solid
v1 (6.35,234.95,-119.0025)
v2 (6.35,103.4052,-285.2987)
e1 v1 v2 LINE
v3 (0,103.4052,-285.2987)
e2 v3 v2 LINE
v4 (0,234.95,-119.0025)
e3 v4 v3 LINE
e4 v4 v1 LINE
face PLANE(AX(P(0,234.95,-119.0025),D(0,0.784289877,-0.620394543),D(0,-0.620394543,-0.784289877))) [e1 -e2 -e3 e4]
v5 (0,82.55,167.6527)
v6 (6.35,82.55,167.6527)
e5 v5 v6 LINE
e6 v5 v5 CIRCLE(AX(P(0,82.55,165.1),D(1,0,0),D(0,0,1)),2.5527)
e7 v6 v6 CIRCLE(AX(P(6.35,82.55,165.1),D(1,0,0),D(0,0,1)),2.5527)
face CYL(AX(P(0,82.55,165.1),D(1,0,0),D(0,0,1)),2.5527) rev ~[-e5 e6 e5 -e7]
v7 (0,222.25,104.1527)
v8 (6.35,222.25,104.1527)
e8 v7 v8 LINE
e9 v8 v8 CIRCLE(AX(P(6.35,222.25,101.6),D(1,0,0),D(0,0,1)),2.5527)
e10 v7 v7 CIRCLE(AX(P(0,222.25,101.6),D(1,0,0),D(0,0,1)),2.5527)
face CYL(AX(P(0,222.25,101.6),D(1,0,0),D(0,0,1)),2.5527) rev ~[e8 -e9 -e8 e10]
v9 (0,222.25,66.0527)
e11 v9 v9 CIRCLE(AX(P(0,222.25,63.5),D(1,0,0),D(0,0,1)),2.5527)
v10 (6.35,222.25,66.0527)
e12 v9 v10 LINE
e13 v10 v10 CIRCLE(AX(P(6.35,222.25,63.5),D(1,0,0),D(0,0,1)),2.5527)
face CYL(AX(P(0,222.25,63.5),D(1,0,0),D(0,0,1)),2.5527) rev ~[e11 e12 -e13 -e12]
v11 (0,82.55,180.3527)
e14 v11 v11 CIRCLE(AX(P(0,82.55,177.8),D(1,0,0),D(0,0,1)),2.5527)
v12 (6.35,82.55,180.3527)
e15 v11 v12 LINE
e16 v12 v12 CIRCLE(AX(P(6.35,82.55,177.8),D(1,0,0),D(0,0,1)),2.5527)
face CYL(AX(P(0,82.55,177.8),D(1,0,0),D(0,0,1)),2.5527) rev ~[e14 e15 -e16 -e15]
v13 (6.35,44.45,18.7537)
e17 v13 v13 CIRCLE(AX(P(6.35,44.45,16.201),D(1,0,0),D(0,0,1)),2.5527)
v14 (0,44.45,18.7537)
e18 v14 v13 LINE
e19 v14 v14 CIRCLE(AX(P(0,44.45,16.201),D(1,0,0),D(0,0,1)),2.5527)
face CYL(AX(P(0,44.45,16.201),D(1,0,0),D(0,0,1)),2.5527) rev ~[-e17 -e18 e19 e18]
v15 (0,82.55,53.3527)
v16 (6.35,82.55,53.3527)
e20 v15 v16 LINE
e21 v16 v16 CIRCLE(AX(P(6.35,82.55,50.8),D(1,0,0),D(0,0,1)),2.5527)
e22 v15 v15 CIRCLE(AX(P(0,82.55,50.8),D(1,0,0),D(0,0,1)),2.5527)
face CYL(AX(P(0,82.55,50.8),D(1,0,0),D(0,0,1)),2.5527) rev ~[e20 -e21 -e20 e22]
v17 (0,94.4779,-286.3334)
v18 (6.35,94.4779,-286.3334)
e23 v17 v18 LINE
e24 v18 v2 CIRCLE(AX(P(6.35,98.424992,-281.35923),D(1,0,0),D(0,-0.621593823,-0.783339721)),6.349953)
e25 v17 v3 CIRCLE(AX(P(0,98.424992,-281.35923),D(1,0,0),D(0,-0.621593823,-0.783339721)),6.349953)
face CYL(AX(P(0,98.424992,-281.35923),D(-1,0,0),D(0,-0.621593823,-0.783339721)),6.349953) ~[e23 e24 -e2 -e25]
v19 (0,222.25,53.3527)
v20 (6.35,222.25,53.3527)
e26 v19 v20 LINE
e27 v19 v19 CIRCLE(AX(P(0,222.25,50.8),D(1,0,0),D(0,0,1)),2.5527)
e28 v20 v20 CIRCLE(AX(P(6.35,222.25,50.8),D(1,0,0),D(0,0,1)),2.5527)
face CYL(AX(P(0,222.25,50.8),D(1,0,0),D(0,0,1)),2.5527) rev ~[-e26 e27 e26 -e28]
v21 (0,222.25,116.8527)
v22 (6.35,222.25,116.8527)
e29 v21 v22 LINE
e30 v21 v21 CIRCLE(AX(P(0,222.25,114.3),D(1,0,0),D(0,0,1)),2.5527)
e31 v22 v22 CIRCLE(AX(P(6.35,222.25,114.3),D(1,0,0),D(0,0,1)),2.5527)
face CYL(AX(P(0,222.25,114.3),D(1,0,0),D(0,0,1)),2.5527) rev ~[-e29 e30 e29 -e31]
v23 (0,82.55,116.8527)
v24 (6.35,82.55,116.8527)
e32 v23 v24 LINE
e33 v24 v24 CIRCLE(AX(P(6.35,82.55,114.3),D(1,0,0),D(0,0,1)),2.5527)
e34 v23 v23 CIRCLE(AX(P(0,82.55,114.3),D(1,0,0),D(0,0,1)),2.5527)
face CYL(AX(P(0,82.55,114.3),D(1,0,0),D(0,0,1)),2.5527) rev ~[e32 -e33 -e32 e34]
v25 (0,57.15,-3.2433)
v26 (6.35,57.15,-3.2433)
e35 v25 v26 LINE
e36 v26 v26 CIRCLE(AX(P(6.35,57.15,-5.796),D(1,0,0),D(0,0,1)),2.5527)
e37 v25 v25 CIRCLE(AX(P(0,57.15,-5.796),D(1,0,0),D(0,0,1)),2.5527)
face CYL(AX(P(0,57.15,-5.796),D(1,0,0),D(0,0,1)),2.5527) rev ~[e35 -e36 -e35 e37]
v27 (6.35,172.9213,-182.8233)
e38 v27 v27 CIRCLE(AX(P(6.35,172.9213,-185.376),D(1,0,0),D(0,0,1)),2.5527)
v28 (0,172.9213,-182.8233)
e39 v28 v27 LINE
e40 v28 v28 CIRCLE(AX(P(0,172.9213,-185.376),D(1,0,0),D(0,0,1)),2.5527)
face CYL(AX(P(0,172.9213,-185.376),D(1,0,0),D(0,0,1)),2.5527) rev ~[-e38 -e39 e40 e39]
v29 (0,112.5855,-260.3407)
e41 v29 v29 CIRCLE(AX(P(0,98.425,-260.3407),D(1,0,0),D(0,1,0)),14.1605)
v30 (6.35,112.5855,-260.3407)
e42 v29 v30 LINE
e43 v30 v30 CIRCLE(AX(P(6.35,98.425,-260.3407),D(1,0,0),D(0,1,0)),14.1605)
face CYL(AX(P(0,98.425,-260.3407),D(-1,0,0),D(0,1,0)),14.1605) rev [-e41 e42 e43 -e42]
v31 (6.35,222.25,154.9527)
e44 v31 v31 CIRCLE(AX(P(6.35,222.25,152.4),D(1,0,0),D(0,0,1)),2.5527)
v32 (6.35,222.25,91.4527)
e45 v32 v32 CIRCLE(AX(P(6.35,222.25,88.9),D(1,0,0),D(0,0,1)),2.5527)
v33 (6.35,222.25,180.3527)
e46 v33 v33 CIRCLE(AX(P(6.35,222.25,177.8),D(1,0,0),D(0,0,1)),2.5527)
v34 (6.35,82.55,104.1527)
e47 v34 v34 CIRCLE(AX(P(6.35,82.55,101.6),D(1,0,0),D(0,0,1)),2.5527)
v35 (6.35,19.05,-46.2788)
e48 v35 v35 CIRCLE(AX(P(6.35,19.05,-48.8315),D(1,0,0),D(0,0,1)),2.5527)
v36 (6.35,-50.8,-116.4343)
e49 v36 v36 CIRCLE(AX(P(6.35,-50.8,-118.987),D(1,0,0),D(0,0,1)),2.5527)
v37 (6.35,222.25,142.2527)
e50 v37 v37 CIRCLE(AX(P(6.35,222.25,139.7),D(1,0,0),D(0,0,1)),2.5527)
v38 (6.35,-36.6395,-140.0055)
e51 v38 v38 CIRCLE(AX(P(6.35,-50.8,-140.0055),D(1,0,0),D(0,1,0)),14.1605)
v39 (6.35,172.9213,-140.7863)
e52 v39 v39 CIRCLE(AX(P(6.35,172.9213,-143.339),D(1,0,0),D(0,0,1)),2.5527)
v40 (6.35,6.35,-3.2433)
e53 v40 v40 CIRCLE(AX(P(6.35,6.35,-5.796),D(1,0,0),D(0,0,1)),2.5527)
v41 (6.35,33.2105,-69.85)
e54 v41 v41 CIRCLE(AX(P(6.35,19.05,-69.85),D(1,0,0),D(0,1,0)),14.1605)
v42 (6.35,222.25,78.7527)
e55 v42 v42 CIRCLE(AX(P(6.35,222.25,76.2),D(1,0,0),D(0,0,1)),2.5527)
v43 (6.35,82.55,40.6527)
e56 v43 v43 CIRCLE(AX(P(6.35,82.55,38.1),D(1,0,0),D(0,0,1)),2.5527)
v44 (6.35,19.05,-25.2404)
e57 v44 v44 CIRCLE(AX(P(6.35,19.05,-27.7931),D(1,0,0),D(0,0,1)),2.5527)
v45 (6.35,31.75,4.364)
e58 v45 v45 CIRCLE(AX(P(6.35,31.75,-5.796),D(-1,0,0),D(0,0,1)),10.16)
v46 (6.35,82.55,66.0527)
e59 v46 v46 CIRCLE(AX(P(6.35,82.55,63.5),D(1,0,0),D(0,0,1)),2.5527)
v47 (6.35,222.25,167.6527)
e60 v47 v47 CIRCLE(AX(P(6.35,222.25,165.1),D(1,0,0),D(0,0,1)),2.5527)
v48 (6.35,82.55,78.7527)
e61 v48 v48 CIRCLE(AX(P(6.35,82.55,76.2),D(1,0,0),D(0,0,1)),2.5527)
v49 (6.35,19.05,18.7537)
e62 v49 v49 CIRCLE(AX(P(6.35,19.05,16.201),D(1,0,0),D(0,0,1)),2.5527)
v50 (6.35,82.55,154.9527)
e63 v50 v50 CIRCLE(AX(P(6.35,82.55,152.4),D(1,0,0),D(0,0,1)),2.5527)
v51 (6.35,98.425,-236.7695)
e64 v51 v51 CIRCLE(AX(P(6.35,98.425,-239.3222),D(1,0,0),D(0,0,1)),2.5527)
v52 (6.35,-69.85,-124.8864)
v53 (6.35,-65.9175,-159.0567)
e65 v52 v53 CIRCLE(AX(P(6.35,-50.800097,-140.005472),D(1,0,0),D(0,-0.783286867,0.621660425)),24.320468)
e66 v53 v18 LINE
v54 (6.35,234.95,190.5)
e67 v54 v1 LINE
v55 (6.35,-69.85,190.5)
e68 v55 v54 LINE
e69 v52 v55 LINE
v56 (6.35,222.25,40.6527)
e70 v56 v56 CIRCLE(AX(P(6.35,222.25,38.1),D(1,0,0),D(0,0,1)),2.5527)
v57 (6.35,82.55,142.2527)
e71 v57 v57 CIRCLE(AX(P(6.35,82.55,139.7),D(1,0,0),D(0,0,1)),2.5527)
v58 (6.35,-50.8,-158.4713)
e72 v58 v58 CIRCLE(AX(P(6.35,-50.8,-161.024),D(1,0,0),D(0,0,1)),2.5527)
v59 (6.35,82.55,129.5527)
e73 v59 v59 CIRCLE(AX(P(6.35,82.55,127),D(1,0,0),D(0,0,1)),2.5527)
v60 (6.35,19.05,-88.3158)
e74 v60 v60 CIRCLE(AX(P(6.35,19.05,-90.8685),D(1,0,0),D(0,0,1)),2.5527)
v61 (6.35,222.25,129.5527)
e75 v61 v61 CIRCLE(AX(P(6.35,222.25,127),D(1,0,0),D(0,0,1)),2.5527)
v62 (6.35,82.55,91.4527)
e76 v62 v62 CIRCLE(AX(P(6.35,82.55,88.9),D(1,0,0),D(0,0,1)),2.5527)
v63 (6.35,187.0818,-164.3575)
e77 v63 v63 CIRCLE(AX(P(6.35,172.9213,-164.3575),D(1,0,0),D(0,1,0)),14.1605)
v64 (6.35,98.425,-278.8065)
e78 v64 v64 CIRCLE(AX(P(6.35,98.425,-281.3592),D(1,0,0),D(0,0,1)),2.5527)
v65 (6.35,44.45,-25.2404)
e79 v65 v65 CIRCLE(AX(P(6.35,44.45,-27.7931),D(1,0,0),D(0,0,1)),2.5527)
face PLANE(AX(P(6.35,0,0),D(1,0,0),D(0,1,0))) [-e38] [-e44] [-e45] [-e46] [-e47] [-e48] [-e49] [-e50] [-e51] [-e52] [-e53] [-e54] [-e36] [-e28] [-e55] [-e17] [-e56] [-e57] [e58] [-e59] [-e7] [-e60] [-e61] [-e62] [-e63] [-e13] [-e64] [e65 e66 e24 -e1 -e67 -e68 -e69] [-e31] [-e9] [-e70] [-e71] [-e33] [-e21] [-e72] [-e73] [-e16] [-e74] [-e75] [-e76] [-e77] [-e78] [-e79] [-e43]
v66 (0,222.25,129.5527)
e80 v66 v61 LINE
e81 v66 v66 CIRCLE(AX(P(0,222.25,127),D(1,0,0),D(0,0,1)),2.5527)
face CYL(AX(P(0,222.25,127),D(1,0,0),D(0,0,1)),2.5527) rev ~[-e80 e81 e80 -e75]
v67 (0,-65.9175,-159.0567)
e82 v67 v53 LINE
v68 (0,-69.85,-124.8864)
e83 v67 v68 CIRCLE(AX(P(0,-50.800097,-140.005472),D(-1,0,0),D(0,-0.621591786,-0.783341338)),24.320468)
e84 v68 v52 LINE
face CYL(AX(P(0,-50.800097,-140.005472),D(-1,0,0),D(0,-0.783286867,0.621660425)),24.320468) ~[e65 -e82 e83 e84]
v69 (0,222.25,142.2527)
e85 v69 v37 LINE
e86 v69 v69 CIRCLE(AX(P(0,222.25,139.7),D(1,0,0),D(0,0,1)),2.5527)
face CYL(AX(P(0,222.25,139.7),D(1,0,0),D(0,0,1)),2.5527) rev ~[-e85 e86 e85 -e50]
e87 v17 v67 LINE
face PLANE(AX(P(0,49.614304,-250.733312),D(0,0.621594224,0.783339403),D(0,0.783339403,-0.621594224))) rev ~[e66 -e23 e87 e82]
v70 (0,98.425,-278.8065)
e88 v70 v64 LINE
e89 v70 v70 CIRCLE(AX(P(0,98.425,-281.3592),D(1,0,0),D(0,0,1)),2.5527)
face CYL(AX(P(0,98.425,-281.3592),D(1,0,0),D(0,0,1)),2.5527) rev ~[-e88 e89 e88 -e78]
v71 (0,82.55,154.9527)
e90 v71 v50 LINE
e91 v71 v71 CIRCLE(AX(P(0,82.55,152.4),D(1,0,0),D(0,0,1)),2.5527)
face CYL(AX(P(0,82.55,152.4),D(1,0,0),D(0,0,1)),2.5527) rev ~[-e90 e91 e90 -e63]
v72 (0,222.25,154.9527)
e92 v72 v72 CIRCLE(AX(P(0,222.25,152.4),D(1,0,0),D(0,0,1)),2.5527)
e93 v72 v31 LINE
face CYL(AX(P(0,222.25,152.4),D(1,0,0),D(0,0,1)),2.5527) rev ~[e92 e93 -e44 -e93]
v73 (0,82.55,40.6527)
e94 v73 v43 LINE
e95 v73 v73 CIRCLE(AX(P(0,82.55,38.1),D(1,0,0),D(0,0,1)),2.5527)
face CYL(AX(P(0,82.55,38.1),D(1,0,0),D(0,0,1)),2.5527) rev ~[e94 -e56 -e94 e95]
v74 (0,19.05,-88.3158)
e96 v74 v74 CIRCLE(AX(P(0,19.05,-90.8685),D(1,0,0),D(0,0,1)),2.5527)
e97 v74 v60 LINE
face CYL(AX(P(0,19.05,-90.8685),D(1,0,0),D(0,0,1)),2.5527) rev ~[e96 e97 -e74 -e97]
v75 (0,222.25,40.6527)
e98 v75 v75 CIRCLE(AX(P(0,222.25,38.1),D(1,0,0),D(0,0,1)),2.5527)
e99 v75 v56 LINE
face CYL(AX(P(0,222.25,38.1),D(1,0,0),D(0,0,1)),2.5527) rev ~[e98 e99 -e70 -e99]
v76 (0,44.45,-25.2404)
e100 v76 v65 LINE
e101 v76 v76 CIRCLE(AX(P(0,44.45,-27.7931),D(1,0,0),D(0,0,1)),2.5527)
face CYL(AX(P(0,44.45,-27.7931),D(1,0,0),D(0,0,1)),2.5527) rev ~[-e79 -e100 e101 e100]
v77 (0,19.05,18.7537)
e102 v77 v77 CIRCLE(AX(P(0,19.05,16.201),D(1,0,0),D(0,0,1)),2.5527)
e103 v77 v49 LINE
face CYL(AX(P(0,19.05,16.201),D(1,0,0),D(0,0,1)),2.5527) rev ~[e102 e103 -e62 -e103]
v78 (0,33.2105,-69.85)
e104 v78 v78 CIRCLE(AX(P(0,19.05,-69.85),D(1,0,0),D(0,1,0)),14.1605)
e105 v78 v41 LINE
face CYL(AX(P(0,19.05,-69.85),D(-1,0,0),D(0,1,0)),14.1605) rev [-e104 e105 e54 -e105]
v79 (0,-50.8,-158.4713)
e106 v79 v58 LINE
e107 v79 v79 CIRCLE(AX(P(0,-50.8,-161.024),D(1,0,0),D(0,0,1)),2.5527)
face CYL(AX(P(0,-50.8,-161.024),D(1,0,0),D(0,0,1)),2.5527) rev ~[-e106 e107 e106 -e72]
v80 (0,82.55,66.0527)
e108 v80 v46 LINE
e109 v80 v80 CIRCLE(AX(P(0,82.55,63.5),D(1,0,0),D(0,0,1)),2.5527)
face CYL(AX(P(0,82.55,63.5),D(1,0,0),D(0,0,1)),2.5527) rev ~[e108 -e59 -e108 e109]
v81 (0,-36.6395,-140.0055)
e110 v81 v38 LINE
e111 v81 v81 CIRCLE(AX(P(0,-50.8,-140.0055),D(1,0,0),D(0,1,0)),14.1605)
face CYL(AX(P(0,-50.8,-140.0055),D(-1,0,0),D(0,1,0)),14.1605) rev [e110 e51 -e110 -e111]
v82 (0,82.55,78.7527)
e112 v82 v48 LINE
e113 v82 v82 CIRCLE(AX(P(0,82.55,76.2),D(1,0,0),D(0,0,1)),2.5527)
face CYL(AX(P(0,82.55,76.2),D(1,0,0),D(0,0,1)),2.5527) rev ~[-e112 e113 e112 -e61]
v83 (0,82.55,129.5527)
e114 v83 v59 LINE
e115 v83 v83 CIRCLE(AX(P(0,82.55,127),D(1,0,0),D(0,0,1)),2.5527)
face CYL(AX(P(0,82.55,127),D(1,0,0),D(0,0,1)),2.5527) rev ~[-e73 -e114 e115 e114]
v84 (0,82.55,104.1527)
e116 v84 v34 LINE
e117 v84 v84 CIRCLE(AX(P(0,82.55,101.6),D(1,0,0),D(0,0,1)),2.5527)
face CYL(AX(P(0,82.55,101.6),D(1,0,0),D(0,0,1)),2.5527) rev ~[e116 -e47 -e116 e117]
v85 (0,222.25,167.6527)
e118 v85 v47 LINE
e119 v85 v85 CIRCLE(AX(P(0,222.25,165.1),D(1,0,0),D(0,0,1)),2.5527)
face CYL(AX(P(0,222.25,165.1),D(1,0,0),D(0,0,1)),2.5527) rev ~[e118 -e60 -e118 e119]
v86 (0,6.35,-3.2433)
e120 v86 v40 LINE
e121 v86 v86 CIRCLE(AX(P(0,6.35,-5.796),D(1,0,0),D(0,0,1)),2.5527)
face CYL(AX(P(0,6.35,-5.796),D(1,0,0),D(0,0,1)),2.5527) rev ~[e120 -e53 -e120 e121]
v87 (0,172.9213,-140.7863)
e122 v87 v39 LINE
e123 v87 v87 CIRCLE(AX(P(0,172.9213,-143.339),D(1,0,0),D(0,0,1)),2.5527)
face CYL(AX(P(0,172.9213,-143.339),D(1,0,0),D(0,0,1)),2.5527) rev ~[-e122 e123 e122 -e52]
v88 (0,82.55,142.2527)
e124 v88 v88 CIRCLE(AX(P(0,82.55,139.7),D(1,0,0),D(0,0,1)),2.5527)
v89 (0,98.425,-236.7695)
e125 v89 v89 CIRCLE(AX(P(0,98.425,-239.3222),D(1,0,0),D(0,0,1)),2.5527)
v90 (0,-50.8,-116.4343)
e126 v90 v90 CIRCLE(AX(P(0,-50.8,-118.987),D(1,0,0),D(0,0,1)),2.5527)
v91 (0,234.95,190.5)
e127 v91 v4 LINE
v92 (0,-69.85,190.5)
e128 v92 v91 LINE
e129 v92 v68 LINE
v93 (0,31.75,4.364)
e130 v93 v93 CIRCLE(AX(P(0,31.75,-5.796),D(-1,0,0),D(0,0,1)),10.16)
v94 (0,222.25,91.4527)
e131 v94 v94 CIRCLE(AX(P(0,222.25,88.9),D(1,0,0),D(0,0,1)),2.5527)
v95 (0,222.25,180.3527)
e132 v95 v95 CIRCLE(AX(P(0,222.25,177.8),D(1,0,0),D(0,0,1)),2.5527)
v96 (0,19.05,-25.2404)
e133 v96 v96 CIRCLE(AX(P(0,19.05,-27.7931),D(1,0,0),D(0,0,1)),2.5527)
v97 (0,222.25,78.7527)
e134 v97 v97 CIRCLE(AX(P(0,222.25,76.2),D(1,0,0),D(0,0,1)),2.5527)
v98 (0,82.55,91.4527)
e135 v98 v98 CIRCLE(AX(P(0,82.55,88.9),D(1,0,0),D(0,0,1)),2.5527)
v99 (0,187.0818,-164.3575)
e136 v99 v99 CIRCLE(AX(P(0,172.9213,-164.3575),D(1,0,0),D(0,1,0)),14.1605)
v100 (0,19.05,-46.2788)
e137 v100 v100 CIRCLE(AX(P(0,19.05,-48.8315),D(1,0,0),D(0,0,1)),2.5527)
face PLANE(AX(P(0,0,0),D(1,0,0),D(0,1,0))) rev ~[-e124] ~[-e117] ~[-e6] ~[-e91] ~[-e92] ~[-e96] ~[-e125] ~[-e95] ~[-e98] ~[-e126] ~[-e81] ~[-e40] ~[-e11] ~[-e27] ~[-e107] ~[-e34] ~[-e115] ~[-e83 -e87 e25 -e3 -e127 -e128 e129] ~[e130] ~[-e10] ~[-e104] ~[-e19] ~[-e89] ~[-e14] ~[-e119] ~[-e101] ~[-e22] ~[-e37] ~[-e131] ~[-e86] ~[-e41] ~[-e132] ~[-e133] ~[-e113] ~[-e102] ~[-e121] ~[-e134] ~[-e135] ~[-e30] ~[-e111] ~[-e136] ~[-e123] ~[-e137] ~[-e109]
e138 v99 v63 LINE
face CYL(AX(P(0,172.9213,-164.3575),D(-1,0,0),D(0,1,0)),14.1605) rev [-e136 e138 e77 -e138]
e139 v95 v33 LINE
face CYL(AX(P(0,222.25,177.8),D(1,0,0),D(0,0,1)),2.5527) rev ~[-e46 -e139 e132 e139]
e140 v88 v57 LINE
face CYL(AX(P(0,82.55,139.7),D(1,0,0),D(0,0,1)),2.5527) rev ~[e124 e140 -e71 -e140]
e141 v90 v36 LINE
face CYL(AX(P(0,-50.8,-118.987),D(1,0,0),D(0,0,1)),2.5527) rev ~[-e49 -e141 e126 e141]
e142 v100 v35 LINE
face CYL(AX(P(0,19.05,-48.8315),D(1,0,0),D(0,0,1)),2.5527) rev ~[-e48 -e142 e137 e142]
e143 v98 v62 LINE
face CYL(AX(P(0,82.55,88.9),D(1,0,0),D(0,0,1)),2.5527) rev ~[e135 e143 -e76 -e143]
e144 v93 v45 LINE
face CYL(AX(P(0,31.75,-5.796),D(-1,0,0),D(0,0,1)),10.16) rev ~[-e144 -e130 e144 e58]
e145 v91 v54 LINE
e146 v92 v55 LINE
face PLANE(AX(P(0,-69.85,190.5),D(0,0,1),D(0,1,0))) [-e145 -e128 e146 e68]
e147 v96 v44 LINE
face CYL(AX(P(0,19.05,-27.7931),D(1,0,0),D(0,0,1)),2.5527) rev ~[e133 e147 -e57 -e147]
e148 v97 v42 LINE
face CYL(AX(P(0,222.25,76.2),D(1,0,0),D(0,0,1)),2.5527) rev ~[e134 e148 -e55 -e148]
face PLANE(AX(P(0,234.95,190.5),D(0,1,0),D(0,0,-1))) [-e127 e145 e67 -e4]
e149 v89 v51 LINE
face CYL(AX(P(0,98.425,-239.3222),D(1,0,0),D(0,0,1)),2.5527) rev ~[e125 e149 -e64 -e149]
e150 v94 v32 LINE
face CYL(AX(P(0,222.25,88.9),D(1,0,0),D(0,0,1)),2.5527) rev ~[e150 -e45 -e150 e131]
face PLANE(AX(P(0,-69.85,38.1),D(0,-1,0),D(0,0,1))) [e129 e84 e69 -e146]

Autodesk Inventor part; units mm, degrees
ref_plane "YZ Plane" through (0, 0, 0) normal (1, 0, 0) x (0, 1, 0)
ref_plane "XZ Plane" through (0, 0, 0) normal (0, 1, 0) x (-1, 0, 0)
ref_plane "XY Plane" through (0, 0, 0) normal (0, 0, 1) x (1, 0, 0)
sketch "Sketch2" plane through (0, 0, 0) normal (1, 0, 0) x (0, 1, 0)
  line L0 (63.5, 38.1) -> (-63.5, 38.1) construction
  line L1 (-63.5, 38.1) -> (-63.5, -38.1) construction
  line L2 (-63.5, -38.1) -> (63.5, -38.1) construction
  line L3 (63.5, -38.1) -> (63.5, 38.1) construction
  line L4 (63.5, 38.1) -> (-63.5, -38.1) construction
  line L5 (-63.5, 38.1) -> (63.5, -38.1) construction
  line L6 (-63.5, 38.1) -> (-76.2, 38.1) construction
  line L7 (-76.2, 38.1) -> (-76.2, -266.7) construction
  line L8 (-76.2, -266.7) -> (-63.5, -266.7) construction
  line L9 (-63.5, -266.7) -> (-63.5, 38.1) construction
  circle A0 centre (-25.8145, -515.3533) radius 57.15 construction
  circle A1 centre (-50.8, -140.0055) radius 15.875 construction
  circle A2 centre (19.05, -69.85) radius 25.4 construction
  circle A3 centre (98.425, -260.3407) radius 63.5 construction
  circle A4 centre (98.425, -260.3407) radius 14.1605
  circle A5 centre (172.9213, -164.3575) radius 63.5 construction
  circle A6 centre (172.9213, -164.3575) radius 14.1605
  circle A7 centre (-50.8, -140.0055) radius 14.1605
  circle A8 centre (19.05, -69.85) radius 14.1605
  line L10 (-69.85, 38.1) -> (-69.85, -155.1245)
  line L11 (-57.15, 38.1) -> (-6.35, 38.1) construction
  line L12 (-6.35, 38.1) -> (-6.35, 444.5) construction
  line L13 (-6.35, 444.5) -> (-57.15, 444.5) construction
  line L14 (-57.15, 444.5) -> (-57.15, 38.1) construction
  line L15 (172.9213, -185.376) -> (172.9213, -143.339) construction
  line L16 (98.425, -239.3222) -> (98.425, -281.3592) construction
  line L17 (19.05, -48.8315) -> (19.05, -90.8685) construction
  line L18 (-50.8, -118.987) -> (-50.8, -161.024) construction
  circle A9 centre (98.425, -281.3592) radius 6.35 construction
  circle A10 centre (98.425, -260.3407) radius 20.5105 construction
  circle A11 centre (172.9213, -164.3575) radius 20.5105 construction
  circle A12 centre (-50.8, -140.0055) radius 24.3205 construction
  line L19 (234.95, -119.0025) -> (103.4052, -285.2987)
  line L20 (-65.9175, -159.0567) -> (94.4779, -286.3334)
  arc A13 (-69.85, -124.8864) -> (-65.9175, -159.0567) centre (-50.8, -140.0055) ccw
  arc A14 (94.4779, -286.3334) -> (103.4052, -285.2987) centre (98.425, -281.3592) ccw
  line L21 (-69.85, 38.1) -> (-69.85, 190.5)
  line L22 (-69.85, 190.5) -> (234.95, 190.5)
  line L23 (234.95, 190.5) -> (234.95, -119.0025)
  line L24 (199.0311, -58.2205) -> (108.7364, 11.8607)
  line L25 (108.7364, 11.8607) -> (-76.2, -226.4168)
  line L26 (-76.2, -226.4168) -> (14.0946, -296.4979)
  line L27 (14.0946, -296.4979) -> (199.0311, -58.2205)
  circle A15 centre (172.9213, -164.3575) radius 44.45 construction
  circle A16 centre (98.425, -260.3407) radius 44.45 construction
  line L28 (63.5, 38.1) -> (63.5, 190.5) construction
  line L29 (152.4, 38.1) -> (152.4, 190.5) construction
  line L30 (222.25, 114.3) -> (82.55, 114.3) construction
  point P0 (0, 0)
  point P1 (-14.3002, 165.1)
  point P2 (-49.1998, 165.1)
  point P3 (-14.3002, 190.5)
  point P4 (-49.1998, 190.5)
  point P5 (-14.3002, 215.9)
  point P6 (-49.1998, 215.9)
  point P7 (-14.3002, 241.3)
  point P8 (-49.1998, 241.3)
  point P9 (-31.75, 38.1)
  point P10 (222.25, 177.8)
  point P11 (222.25, 165.1)
  point P12 (222.25, 152.4)
  point P13 (222.25, 139.7)
  point P14 (222.25, 127)
  point P15 (222.25, 101.6)
  point P16 (222.25, 88.9)
  point P17 (222.25, 76.2)
  point P18 (222.25, 63.5)
  point P19 (222.25, 50.8)
  point P20 (222.25, 38.1)
  point P21 (63.5, 114.3)
  point P22 (152.4, 114.3)
  point P23 (152.4, 114.3)
  point P24 (152.4, 114.3)
  point P25 (82.55, 177.8)
  point P26 (82.55, 165.1)
  point P27 (82.55, 152.4)
  point P28 (82.55, 139.7)
  point P29 (82.55, 127)
  point P30 (82.55, 101.6)
  point P31 (82.55, 88.9)
  point P32 (82.55, 76.2)
  point P33 (82.55, 63.5)
  point P34 (82.55, 50.8)
  point P35 (82.55, 38.1)
  dimension "d2" = 127
  dimension "d3" = 76.2
  dimension "d4" = 12.7
  dimension "d5" = 304.8
  dimension "d6" = 114.3
  dimension "d7" = 31.75
  dimension "d8" = 50.8
  dimension "d9" = 127
  dimension "d10" = 174.625
  dimension "d11" = 28.321
  dimension "d12" = 31.75
  dimension "d13" = 25.4
  dimension "d14" = 98.999
  dimension "d16" = 222.2407
  dimension "d17" = 127
  dimension "d18" = 121.5009
  dimension "d40" = 50.8
  dimension "d41" = 19.05
  dimension "d42" = 406.4
  dimension "d43" = 127
  dimension "d44" = 7.9502
  dimension "d45" = 7.9502
  dimension "d48" = 25.4
  dimension "d70" = 180.577
  dimension "d80" = 42.037
  dimension "d81" = 42.037
  dimension "d82" = 42.037
  dimension "d83" = 42.037
  dimension "d84" = 12.7
  dimension "d85" = 6.35
  dimension "d86" = 6.35
  dimension "d87" = 10.16
  dimension "d97" = 152.4
  dimension "d98" = 12.7
  dimension "d101" = 12.7
  dimension "d104" = 12.7
  dimension "d109" = 114.3
  dimension "d110" = 301.625
  dimension "d111" = 19.05
  dimension "d112" = 95.25
  dimension "d113" = 304.8
  dimension "d114" = 139.7
extrude "Extrusion1" add sketch "Sketch2" along normal blind 6.35 contours L21 L22 L23 L19 A14 L20 L27 L24 L25 A13 L10 | L10 A13 | L25 L24 L27 L20
sketch "Sketch3" plane through (6.35, 0, 0) normal (1, 0, 0) x (0, 0, -1)
  line L0 (-38.1, 63.5) -> (38.1, 63.5) construction
  line L1 (38.1, 63.5) -> (38.1, -63.5) construction
  line L2 (38.1, -63.5) -> (-38.1, -63.5) construction
  line L3 (-38.1, -63.5) -> (-38.1, 63.5) construction
  line L4 (-38.1, 63.5) -> (38.1, -63.5) construction
  line L5 (38.1, 63.5) -> (-38.1, -63.5) construction
  line L6 (-190.5, -69.85) -> (124.8864, -69.85) construction
  point P0 (0, 0)
  point P1 (0, 0)
  point P2 (147.943, -69.85)
  dimension "d36" = 76.2
  dimension "d37" = 127
  dimension "d38" = 6.35
sketch "Sketch4" plane through (0, 0, 0) normal (-1, 0, 0) x (0, 0, 1)
  circle A0 centre (-5.796, 31.75) radius 10.16
  line L0 (190.5, -69.85) -> (-124.8864, -69.85) projected
  line L1 (190.5, -69.85) -> (-124.8864, -69.85) projected
  circle A1 centre (-5.796, 31.75) radius 25.4 construction
  circle A2 centre (-69.85, 19.05) radius 14.1605 projected
  circle A3 centre (-140.0055, -50.8) radius 14.1605 projected
  circle A4 centre (-164.3575, 172.9213) radius 14.1605 projected
  circle A5 centre (-260.3407, 98.425) radius 14.1605 projected
  arc A6 (-159.0567, -65.9175) -> (-124.8864, -69.85) centre (-140.0055, -50.8) ccw projected
  line L2 (-159.0567, -65.9175) -> (-286.3334, 94.4779) projected
  arc A7 (-285.2987, 103.4052) -> (-286.3334, 94.4779) centre (-281.3592, 98.425) ccw projected
  line L3 (-285.2987, 103.4052) -> (-119.0025, 234.95) projected
  line L4 (-119.0025, 234.95) -> (190.5, 234.95) projected
  line L5 (190.5, 234.95) -> (190.5, -69.85) projected
  circle A8 centre (-69.85, 19.05) radius 14.1605 projected
  circle A9 centre (-140.0055, -50.8) radius 14.1605 projected
  circle A10 centre (-164.3575, 172.9213) radius 14.1605 projected
  circle A11 centre (-260.3407, 98.425) radius 14.1605 projected
  arc A12 (-159.0567, -65.9175) -> (-124.8864, -69.85) centre (-140.0055, -50.8) ccw projected
  line L6 (-159.0567, -65.9175) -> (-286.3334, 94.4779) projected
  arc A13 (-285.2987, 103.4052) -> (-286.3334, 94.4779) centre (-281.3592, 98.425) ccw projected
  line L7 (-285.2987, 103.4052) -> (-119.0025, 234.95) projected
  line L8 (-119.0025, 234.95) -> (190.5, 234.95) projected
  line L9 (190.5, 234.95) -> (190.5, -69.85) projected
  point P0 (0, 0)
  point P1 (-69.85, -12.7)
  point P2 (-5.796, 57.15)
  point P3 (-27.7931, 44.45)
  point P4 (-27.7931, 19.05)
  point P5 (-5.796, 6.35)
  point P6 (16.201, 19.05)
  point P7 (16.201, 44.45)
  dimension "d58" = 50.8
  dimension "d53" = 20.32
  dimension "d55" = 101.6
  dimension "d61" = 360
  dimension "d117" = 65.3009
extrude "Extrusion2" cut sketch "Sketch4" against normal blind 25.4 contours A0
hole "Hole1" at (0, 57.15, -5.796) at (0, 44.45, -27.7931) at (0, 19.05, -27.7931) at (0, 6.35, -5.796) at (0, 19.05, 16.201) at (0, 44.45, 16.201) direction (1, 0, 0) diameter 5.1054 end through all clearance for "Flat Head Machine Screw (82)" size "#10" standard "Ansi Unified Screw Threads"
hole "Hole3" at (0, -14.3002, 215.9) at (0, -49.1998, 215.9) at (0, -14.3002, 241.3) at (0, -49.1998, 241.3) at (0, 172.9213, -185.376) at (0, 172.9213, -143.339) at (0, 98.425, -239.3222) at (0, 98.425, -281.3592) at (0, 19.05, -48.8315) at (0, 19.05, -90.8685) at (0, -50.8, -118.987) at (0, -50.8, -161.024) at (0, 222.25, 177.8) at (0, 222.25, 165.1) at (0, 222.25, 152.4) at (0, 222.25, 139.7) at (0, 222.25, 127) at (0, 222.25, 114.3) at (0, 222.25, 101.6) at (0, 222.25, 88.9) at (0, 222.25, 76.2) at (0, 222.25, 63.5) at (0, 222.25, 50.8) at (0, 222.25, 38.1) at (0, 82.55, 38.1) at (0, 82.55, 50.8) at (0, 82.55, 63.5) at (0, 82.55, 76.2) at (0, 82.55, 88.9) at (0, 82.55, 101.6) at (0, 82.55, 114.3) at (0, 82.55, 127) at (0, 82.55, 139.7) at (0, 82.55, 152.4) at (0, 82.55, 165.1) at (0, 82.55, 177.8) direction (1, 0, 0) diameter 5.1054 end through all clearance for "Flat Head Machine Screw (82)" size "#10" standard "Ansi Unified Screw Threads"
sketch "Sketch6" plane through (6.35, 0, 0) normal (1, 0, 0) x (0, 0, -1)
  line L0 (-190.5, -69.85) -> (124.8864, -69.85) projected
  line L1 (-190.5, -69.85) -> (-38.1, -69.85)
  line L2 (-38.1, -69.85) -> (-38.1, 57.15)
  line L3 (-38.1, 57.15) -> (-190.5, 57.15)
  line L4 (-190.5, 57.15) -> (-190.5, -69.85)
  point P0 (0, 0)
  dimension "d115" = 127
  dimension "d116" = 152.4
properties part number "GI - 001" material "Aluminum 6061"
